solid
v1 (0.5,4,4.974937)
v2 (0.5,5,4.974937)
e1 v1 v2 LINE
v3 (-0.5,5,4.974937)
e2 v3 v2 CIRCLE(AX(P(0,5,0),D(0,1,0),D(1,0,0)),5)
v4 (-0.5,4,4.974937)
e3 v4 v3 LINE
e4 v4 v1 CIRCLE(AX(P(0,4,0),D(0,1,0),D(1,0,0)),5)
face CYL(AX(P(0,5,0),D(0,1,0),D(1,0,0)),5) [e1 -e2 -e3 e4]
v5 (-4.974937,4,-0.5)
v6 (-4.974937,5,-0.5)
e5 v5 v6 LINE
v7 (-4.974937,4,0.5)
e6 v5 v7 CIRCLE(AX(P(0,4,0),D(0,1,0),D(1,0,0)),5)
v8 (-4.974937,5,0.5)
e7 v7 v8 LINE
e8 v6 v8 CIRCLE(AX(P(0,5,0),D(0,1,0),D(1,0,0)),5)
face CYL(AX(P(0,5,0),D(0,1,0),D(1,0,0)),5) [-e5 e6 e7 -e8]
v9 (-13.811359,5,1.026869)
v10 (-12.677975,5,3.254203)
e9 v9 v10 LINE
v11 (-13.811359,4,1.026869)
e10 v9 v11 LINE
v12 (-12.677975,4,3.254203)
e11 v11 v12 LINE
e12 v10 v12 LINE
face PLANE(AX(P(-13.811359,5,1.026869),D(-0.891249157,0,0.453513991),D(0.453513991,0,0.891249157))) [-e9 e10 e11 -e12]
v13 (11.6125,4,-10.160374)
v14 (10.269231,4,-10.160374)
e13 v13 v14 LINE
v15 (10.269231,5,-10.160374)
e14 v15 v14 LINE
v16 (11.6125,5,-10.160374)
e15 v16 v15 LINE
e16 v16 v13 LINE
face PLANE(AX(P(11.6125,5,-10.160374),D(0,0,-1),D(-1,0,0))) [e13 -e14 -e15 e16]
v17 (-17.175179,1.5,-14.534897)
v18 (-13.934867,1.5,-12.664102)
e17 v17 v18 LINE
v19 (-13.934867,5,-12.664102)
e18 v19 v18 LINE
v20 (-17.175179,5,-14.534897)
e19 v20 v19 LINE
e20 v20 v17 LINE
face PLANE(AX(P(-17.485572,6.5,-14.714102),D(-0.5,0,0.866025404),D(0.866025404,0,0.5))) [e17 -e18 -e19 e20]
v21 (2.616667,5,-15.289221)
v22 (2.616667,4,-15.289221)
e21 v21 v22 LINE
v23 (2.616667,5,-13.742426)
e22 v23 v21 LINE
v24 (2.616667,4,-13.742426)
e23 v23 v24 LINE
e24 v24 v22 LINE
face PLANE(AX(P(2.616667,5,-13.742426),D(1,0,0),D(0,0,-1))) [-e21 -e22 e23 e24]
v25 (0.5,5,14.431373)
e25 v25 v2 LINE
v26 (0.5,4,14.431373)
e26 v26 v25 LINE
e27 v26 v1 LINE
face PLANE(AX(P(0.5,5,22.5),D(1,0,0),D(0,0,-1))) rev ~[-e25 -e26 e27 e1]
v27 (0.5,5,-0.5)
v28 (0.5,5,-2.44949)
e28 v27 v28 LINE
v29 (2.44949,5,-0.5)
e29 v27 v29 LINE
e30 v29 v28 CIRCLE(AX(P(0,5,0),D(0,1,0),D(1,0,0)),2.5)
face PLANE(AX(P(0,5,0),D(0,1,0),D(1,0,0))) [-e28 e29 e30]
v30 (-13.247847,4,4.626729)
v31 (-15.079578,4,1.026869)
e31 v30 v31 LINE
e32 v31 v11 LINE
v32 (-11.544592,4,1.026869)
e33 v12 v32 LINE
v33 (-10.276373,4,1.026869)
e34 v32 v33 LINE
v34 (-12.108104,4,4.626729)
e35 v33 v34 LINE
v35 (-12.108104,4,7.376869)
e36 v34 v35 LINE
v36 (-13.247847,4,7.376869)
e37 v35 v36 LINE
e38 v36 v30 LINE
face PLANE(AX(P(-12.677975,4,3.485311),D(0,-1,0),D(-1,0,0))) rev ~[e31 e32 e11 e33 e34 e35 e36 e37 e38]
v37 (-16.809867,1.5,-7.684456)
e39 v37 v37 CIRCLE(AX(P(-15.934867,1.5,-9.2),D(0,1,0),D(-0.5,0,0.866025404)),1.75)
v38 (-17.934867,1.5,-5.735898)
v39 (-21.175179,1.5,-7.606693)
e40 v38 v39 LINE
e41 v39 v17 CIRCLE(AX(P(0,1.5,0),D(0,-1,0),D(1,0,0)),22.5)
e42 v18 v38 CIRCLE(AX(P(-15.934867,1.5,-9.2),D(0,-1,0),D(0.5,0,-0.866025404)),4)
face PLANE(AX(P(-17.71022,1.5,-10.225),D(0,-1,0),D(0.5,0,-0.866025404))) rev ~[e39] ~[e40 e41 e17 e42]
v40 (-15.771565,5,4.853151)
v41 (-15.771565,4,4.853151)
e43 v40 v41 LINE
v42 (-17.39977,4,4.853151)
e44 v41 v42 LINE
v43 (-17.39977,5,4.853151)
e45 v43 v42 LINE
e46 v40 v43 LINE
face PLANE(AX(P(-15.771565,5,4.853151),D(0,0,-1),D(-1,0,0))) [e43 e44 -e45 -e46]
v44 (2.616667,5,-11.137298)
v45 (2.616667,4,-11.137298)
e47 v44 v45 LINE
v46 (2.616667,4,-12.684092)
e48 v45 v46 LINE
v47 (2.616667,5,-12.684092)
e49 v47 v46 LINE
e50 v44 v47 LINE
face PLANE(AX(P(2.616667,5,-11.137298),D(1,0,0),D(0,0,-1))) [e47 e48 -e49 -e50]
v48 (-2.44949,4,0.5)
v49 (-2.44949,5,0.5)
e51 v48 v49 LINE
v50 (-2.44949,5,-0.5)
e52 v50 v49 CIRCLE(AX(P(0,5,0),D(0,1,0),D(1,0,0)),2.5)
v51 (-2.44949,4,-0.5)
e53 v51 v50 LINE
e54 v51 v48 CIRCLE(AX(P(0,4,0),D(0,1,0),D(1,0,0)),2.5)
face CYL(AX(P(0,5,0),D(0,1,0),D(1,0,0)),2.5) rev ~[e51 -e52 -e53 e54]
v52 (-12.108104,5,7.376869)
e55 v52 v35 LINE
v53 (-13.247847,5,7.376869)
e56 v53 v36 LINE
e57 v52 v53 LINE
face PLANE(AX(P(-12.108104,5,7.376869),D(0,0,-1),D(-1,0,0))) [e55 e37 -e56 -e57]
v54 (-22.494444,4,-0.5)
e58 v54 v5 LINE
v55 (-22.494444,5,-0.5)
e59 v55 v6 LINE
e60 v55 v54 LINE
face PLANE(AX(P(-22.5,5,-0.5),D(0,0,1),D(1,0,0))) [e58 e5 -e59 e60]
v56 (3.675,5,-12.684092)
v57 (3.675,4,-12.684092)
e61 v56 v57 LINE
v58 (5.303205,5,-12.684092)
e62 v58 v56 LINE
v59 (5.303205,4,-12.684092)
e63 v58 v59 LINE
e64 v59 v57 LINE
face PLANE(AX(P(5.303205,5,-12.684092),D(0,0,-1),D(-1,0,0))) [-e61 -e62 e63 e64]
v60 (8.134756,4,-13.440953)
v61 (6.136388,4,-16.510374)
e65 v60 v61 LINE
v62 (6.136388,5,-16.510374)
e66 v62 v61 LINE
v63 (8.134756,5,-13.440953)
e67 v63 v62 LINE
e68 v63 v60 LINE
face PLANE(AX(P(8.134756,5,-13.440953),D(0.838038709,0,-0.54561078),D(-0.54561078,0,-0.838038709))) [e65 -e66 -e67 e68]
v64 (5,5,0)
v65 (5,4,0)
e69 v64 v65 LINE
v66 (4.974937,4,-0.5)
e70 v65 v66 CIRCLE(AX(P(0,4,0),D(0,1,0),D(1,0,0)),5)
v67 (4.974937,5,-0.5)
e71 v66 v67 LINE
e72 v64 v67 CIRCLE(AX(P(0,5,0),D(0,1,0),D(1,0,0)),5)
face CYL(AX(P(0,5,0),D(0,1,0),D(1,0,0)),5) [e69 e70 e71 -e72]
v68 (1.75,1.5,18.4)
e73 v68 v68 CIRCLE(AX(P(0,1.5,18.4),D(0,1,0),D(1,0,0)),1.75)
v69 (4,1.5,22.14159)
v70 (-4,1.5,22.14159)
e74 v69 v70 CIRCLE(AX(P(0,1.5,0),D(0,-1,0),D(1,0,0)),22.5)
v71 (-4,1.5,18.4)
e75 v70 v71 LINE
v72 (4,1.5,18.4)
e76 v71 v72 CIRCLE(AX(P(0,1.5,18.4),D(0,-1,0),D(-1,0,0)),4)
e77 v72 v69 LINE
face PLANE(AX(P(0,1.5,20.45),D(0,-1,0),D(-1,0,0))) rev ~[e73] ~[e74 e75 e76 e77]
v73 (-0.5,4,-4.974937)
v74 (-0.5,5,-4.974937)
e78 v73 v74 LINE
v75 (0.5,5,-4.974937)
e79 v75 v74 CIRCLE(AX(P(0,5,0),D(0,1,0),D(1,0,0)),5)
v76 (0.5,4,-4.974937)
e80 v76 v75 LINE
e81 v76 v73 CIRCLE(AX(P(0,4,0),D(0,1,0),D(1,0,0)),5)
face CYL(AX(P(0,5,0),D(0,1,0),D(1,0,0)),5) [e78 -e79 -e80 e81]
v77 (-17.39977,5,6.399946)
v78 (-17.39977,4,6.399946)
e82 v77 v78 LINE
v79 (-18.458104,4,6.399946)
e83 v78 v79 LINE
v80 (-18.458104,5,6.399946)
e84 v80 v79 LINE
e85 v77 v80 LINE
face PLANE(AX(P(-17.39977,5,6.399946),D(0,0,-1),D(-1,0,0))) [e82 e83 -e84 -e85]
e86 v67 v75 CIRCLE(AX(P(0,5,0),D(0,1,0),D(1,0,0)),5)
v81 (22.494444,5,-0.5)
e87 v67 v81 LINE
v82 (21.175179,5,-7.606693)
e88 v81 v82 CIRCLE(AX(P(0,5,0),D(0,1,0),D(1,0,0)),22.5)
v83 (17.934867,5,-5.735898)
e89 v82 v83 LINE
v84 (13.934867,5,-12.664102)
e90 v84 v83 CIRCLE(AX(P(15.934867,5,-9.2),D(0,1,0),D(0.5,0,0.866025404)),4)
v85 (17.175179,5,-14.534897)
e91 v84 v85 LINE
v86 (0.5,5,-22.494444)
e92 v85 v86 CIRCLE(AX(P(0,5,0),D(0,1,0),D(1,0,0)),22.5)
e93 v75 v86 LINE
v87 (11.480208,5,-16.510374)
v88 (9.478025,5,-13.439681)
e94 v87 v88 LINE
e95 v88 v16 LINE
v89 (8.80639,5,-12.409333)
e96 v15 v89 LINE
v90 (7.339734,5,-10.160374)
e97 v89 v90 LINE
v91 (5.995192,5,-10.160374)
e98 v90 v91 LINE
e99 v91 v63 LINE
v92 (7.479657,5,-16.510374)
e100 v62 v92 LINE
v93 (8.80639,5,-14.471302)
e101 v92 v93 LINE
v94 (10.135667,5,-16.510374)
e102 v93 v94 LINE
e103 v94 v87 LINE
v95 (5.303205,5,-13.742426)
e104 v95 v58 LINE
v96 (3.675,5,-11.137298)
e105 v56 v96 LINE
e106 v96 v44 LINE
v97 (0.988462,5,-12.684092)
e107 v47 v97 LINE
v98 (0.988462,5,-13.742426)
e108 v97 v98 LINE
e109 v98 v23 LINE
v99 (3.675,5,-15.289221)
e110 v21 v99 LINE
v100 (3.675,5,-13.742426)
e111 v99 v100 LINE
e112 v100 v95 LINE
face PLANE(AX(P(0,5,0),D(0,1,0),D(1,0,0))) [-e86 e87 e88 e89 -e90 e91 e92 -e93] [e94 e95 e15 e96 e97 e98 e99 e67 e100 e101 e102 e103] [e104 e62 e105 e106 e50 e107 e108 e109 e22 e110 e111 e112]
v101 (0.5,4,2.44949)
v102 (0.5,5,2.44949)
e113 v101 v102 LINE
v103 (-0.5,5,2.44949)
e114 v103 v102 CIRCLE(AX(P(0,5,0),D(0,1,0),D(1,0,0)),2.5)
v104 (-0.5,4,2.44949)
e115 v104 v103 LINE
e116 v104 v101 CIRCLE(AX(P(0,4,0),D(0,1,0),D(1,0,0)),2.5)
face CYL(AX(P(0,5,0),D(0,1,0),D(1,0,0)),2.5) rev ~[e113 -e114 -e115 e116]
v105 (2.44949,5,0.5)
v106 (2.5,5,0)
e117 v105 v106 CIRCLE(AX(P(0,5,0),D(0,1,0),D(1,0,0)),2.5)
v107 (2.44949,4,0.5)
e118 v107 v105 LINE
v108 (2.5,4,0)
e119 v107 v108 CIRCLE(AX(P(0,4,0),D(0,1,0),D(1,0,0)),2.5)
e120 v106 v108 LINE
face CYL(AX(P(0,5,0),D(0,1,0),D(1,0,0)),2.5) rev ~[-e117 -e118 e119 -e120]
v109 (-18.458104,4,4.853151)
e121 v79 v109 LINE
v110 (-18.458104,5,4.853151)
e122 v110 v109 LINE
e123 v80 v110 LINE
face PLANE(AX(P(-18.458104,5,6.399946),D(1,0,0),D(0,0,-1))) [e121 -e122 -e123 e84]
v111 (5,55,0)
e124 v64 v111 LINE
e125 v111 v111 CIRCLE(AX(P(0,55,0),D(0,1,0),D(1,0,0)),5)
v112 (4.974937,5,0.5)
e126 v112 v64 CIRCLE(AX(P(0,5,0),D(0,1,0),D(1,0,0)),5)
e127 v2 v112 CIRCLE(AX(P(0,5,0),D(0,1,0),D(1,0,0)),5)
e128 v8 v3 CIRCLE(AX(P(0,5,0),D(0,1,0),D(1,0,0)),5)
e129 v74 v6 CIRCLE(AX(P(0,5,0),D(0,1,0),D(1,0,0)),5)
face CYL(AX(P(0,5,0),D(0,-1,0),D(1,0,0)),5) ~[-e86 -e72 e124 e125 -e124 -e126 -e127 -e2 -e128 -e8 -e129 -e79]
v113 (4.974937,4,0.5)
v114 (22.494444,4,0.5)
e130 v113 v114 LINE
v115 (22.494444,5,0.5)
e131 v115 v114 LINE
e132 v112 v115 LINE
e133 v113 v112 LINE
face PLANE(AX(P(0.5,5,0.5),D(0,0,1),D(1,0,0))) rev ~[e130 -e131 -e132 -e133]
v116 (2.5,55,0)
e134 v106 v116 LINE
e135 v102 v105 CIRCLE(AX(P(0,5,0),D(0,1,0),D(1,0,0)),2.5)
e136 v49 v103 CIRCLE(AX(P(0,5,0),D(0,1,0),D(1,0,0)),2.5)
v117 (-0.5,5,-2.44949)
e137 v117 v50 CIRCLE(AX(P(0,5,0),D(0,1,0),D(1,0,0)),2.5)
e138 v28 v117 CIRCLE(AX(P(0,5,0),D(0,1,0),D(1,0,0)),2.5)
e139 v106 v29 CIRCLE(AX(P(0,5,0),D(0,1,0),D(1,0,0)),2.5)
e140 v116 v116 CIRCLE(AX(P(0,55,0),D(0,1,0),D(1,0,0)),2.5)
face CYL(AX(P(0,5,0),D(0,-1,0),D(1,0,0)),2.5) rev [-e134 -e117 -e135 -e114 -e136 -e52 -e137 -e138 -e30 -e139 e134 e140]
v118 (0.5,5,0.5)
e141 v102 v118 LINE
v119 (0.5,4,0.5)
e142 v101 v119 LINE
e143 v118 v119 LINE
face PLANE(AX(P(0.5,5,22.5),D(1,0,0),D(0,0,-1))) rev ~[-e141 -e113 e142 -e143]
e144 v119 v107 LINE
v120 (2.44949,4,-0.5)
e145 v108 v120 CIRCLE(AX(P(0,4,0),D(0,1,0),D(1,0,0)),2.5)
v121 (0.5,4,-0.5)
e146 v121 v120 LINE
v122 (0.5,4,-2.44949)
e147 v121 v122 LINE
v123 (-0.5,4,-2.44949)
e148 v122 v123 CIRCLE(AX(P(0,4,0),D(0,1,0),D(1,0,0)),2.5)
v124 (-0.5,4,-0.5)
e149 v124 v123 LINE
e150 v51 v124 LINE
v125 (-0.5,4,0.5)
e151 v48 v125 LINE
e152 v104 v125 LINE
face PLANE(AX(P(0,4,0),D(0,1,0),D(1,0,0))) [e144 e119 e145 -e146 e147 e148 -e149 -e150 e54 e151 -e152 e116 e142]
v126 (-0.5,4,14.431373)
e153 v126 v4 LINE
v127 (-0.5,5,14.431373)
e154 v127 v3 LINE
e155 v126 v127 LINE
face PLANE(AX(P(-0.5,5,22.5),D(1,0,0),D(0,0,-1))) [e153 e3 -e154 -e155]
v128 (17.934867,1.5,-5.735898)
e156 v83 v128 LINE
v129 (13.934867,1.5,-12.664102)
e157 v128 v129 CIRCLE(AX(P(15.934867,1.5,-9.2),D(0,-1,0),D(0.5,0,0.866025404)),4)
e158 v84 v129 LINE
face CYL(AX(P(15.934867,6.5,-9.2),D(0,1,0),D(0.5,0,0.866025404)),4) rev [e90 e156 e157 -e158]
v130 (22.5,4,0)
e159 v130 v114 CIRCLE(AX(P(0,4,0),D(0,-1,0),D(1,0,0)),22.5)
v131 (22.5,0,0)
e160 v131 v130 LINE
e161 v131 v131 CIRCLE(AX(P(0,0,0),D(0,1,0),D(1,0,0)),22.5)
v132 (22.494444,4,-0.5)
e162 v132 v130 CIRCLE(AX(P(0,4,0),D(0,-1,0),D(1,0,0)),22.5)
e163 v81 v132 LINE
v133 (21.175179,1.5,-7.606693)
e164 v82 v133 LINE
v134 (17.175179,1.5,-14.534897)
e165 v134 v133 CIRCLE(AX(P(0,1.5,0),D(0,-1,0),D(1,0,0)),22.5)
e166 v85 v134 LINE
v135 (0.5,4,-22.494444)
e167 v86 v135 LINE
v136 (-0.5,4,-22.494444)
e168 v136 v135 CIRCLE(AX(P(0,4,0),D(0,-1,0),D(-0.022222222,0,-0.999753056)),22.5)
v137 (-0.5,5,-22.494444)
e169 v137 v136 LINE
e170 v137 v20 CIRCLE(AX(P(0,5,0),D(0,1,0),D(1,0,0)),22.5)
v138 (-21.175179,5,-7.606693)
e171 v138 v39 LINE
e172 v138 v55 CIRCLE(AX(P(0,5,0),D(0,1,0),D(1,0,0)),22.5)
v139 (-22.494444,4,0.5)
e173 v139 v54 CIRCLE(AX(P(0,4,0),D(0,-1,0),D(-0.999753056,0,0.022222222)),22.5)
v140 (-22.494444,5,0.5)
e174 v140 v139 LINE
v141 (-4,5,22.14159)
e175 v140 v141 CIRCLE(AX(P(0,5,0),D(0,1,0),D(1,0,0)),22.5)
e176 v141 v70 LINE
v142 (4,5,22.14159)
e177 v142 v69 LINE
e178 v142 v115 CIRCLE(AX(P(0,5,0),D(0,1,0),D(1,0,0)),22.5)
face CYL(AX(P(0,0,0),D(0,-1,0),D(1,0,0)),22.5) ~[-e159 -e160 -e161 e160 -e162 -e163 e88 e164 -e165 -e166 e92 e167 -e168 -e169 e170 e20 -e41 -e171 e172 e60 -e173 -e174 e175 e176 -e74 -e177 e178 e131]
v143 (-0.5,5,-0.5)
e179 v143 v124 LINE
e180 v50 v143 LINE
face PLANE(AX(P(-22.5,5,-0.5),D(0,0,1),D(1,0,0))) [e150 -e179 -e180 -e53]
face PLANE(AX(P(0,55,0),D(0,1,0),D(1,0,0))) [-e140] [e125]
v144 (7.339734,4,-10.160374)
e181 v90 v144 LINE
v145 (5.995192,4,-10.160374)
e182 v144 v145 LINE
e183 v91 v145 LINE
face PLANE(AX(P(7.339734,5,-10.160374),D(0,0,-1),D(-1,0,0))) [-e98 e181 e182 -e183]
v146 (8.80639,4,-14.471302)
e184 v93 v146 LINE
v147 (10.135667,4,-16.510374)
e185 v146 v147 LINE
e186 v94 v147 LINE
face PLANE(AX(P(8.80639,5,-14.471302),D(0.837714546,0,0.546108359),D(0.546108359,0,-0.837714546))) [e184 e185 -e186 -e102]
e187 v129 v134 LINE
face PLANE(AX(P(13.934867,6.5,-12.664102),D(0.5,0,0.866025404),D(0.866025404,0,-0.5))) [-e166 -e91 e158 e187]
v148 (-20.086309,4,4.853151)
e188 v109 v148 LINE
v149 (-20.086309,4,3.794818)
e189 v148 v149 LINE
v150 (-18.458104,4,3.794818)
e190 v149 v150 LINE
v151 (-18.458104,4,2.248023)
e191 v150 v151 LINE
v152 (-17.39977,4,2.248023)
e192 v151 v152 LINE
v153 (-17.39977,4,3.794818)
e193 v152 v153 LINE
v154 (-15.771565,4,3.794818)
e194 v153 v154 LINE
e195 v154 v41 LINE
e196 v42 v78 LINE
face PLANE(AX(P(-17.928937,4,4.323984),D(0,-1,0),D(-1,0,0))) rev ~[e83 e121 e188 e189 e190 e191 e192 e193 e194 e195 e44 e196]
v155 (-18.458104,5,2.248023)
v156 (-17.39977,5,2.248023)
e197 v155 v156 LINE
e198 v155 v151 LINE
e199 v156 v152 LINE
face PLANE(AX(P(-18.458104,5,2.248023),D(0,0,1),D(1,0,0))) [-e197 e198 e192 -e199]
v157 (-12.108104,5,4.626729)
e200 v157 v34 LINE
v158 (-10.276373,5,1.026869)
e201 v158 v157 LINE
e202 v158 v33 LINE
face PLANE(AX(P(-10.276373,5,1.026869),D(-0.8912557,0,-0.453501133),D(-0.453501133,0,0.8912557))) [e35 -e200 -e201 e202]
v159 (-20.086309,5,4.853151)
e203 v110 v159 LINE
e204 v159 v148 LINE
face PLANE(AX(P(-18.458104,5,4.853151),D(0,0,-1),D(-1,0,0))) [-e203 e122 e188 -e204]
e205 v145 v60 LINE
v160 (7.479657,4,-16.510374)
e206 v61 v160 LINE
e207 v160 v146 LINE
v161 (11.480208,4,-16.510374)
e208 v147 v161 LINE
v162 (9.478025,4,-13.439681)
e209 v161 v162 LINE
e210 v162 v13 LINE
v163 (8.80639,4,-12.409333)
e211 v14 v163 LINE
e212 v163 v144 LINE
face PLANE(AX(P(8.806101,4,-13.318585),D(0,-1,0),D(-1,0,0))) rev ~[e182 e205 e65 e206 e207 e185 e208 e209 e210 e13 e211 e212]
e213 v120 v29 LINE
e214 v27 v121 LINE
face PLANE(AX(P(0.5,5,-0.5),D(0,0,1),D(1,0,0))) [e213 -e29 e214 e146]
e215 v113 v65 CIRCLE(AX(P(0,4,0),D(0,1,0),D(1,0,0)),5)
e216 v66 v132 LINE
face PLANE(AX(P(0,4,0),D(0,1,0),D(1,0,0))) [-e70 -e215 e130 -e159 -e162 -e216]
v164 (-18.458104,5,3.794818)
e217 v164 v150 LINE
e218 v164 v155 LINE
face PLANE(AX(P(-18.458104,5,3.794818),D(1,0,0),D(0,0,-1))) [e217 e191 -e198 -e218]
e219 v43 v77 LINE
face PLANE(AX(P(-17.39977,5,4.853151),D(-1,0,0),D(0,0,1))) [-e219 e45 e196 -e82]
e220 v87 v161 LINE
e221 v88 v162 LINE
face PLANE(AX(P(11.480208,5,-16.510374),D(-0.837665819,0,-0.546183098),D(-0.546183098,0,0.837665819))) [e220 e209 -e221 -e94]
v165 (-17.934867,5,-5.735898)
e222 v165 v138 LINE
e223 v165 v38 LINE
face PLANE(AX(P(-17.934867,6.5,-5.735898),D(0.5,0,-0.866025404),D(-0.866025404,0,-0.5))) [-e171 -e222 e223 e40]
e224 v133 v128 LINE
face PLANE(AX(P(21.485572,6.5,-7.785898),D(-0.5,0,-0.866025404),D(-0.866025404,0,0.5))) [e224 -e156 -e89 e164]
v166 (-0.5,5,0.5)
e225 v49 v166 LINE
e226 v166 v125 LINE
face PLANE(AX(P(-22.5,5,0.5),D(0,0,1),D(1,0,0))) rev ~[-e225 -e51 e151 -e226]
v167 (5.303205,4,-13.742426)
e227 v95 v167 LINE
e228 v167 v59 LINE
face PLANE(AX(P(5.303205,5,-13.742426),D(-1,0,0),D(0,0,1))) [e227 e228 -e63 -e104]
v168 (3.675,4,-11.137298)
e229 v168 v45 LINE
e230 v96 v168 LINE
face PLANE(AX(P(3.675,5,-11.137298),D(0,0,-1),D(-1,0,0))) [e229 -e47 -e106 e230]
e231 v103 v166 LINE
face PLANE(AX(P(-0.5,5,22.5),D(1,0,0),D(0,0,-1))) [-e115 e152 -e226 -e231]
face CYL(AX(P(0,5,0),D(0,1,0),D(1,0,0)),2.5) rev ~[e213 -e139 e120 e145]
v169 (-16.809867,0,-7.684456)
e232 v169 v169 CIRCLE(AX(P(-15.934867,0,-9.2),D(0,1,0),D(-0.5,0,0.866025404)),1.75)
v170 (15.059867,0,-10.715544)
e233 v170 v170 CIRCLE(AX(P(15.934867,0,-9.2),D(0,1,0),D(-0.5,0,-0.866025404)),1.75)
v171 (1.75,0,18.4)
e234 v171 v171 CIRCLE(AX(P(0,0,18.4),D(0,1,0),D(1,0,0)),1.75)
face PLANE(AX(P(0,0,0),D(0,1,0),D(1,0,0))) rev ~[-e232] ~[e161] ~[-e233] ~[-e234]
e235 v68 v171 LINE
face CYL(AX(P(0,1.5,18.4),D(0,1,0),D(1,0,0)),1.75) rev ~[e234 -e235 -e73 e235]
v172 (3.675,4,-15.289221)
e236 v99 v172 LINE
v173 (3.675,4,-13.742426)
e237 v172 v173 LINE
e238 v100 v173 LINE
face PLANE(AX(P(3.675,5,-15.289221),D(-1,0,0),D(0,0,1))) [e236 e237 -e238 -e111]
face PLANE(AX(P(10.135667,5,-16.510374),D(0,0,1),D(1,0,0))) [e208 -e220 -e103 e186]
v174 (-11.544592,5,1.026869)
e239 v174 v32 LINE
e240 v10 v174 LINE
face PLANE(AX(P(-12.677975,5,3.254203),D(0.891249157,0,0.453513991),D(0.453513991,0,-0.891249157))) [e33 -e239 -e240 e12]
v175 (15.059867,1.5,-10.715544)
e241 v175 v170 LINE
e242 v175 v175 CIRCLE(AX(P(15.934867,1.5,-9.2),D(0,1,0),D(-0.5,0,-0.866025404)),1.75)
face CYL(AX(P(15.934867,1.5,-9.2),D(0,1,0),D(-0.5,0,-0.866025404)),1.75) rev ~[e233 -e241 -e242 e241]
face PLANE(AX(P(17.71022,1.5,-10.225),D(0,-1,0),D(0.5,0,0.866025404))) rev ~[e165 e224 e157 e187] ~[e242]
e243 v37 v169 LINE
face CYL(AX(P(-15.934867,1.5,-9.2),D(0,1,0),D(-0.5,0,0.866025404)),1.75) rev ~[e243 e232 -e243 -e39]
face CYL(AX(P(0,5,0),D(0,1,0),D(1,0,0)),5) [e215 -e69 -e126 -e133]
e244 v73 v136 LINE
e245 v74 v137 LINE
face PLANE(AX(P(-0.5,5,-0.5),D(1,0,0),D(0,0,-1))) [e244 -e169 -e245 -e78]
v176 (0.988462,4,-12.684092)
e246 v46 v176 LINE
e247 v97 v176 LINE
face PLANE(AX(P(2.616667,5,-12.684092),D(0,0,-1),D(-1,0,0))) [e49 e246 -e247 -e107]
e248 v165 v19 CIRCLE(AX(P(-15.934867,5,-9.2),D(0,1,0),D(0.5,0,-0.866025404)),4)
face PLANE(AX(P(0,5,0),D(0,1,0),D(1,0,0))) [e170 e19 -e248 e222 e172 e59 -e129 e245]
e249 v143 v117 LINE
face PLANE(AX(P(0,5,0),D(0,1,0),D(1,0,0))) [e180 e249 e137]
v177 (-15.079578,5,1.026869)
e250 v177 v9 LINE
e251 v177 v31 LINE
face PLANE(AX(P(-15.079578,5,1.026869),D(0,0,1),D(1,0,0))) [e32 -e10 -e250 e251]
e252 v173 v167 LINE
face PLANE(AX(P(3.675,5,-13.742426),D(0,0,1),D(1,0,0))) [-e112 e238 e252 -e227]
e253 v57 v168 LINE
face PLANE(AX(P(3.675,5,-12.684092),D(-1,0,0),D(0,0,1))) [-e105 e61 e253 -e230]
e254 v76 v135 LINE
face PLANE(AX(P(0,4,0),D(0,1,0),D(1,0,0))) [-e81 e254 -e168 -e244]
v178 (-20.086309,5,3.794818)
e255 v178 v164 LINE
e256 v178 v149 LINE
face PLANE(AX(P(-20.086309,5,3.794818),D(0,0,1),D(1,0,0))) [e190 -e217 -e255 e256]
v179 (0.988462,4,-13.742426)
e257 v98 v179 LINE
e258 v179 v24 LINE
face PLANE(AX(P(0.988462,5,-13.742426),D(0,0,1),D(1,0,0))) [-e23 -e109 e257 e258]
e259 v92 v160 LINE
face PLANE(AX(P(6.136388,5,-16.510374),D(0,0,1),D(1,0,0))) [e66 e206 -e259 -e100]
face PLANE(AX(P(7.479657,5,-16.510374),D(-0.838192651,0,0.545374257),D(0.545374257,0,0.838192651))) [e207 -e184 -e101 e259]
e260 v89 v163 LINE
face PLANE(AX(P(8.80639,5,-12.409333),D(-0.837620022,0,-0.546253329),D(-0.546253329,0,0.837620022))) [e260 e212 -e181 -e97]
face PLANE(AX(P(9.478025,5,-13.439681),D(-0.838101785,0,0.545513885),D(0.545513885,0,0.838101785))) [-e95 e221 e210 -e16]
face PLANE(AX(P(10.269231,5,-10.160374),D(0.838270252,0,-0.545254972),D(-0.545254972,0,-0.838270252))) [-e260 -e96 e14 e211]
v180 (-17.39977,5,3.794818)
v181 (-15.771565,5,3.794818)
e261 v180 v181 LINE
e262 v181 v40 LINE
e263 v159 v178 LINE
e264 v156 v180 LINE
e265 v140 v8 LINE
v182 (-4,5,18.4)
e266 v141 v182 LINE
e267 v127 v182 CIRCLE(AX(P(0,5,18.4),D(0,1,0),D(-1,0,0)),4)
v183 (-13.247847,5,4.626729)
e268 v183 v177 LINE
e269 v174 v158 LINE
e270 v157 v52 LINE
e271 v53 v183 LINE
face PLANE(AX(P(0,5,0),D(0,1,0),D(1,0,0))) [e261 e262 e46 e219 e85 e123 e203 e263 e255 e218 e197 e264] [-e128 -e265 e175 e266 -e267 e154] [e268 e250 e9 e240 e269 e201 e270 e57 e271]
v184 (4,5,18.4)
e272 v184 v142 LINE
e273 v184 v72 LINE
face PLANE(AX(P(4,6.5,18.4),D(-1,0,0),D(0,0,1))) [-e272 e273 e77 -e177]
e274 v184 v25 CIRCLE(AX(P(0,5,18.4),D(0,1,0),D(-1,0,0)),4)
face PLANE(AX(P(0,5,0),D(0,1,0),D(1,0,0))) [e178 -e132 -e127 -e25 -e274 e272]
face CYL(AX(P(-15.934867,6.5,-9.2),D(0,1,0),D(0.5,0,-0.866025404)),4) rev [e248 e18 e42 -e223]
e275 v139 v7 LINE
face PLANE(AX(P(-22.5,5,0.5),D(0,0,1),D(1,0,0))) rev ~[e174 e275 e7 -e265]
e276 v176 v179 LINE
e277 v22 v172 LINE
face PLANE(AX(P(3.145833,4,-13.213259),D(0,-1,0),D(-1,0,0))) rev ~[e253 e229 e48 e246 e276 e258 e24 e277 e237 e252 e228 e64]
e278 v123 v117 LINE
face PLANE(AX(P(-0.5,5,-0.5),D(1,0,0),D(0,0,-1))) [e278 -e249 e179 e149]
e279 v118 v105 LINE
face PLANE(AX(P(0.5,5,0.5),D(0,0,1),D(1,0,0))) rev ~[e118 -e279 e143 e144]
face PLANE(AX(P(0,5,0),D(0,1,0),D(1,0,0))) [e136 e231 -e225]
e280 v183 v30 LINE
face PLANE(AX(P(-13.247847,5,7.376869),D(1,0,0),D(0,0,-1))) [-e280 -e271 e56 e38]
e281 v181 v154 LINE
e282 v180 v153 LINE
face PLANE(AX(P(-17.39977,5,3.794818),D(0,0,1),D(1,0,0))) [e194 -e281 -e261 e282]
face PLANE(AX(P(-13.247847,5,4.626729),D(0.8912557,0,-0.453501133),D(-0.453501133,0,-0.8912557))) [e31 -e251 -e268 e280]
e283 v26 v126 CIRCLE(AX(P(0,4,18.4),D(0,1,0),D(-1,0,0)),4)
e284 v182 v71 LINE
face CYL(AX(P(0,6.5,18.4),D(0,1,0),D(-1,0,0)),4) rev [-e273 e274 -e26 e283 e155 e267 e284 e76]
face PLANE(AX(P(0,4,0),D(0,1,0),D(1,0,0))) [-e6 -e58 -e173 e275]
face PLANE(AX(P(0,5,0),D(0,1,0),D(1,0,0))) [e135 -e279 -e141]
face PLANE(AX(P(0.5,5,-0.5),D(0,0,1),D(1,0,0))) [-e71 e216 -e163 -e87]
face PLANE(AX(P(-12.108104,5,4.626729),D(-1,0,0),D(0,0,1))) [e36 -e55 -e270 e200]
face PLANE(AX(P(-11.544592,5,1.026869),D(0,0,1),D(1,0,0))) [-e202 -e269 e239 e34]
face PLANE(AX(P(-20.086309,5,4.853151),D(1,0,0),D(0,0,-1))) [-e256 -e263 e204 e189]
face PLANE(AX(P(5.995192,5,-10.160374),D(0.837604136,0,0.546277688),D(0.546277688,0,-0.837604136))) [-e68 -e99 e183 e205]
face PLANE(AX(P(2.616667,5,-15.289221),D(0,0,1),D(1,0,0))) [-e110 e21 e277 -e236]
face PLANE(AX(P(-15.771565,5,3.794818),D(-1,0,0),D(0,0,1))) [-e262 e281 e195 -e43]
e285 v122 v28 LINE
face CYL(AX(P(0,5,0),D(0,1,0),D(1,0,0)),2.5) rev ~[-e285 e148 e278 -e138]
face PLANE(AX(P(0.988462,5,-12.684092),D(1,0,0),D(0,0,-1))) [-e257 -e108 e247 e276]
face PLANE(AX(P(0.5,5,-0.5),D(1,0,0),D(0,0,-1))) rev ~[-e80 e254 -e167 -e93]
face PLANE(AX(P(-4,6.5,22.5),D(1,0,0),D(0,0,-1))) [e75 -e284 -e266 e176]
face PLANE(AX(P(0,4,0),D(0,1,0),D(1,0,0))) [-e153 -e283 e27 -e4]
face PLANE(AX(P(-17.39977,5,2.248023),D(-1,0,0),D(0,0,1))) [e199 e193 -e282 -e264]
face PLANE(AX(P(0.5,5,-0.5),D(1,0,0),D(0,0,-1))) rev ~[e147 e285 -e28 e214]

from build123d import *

# Parameters (mm, degrees)
SKETCH1_R                = 22.5
PLATE_DEPTH              = 5
OPENING_START            = 1.5
OPENING_FOR_SCREW_DEPTH  = 5
SKETCH7_R                = 1.75
SCREW_HOLE_DEPTH         = 5
CIRPATTERN20_COUNT       = 3
SKETCH10_W               = 45
SKETCH10_H               = 1
SKETCH10_W_2             = 1
SKETCH10_H_2             = 45
CUT_EXTRUDE5_DEPTH       = 1
CUT_EXTRUDE6_DEPTH       = 1
SKETCH12_R               = 5
SKETCH12_R_2             = 2.5
BOSS_EXTRUDE2_DEPTH      = 50
BOSS_EXTRUDE2_DEPTH_BACK = 1


with BuildPart() as part:
    # Sketch1 → plate (new body)
    with BuildSketch(Plane(origin=(0, 0, 0), x_dir=(1, 0, 0), z_dir=(0, 1, 0))):
        Circle(SKETCH1_R)
    extrude(amount=PLATE_DEPTH)

    # Sketch6 → opening for screw (cut)
    with BuildSketch(Plane(origin=(0, 5, 0), x_dir=(1, 0, 0), z_dir=(0, 1, 0)).offset(OPENING_START)):
        with BuildLine():
            Line((-4, -22.5), (-4, -18.4))
            ThreePointArc((-4, -18.4), (0, -14.4), (4, -18.4))
            Line((4, -18.4), (4, -22.5))
            ThreePointArc((4, -22.5), (0, -26.5), (-4, -22.5))
        make_face()
    opening_for_screw = extrude(amount=-OPENING_FOR_SCREW_DEPTH, mode=Mode.SUBTRACT)

    # Sketch7 → screw hole (cut)
    with BuildSketch(Plane(origin=(0, 1.5, 0), x_dir=(1, 0, 0), z_dir=(0, 1, 0))):
        with Locations((0, -18.4)):
            Circle(SKETCH7_R)
    screw_hole = extrude(amount=-SCREW_HOLE_DEPTH, mode=Mode.SUBTRACT)

    # CirPattern20: opening for screw, screw hole ×3 about axis
    cirpattern20_axis = Axis((0, 0, 0), (0, 1, 0))
    for i in range(1, CIRPATTERN20_COUNT):
        add(opening_for_screw.rotate(cirpattern20_axis, i * 360 / CIRPATTERN20_COUNT), mode=Mode.SUBTRACT)
        add(screw_hole.rotate(cirpattern20_axis, i * 360 / CIRPATTERN20_COUNT), mode=Mode.SUBTRACT)

    # Sketch10 → Cut-Extrude5 (cut)
    with BuildSketch(Plane(origin=(0, 5, 0), x_dir=(1, 0, 0), z_dir=(0, 1, 0))):
        Rectangle(SKETCH10_W, SKETCH10_H)
        Rectangle(SKETCH10_W_2, SKETCH10_H_2)
    extrude(amount=-CUT_EXTRUDE5_DEPTH, mode=Mode.SUBTRACT)

    # Sketch11 → Cut-Extrude6 (cut)
    with BuildSketch(Plane(origin=(0, 5, 0), x_dir=(1, 0, 0), z_dir=(0, 1, 0))):
        Polygon((2.616666667, 13.742425761), (2.616666667, 15.289220632), (3.675, 15.289220632), (3.675, 13.742425761), (5.303205128, 13.742425761), (5.303205128, 12.684092427), (3.675, 12.684092427), (3.675, 11.137297556), (2.616666667, 11.137297556), (2.616666667, 12.684092427), (0.988461538, 12.684092427), (0.988461538, 13.742425761), align=None)
        Polygon((6.136388221, 16.510374479), (7.479657452, 16.510374479), (8.806390224, 14.471301963), (10.135667067, 16.510374479), (11.480208333, 16.510374479), (9.47802484, 13.43968137), (11.6125, 10.160374479), (10.269230769, 10.160374479), (8.806390224, 12.409332812), (7.339733574, 10.160374479), (5.995192308, 10.160374479), (8.134755609, 13.440953405), align=None)
        Polygon((-18.458103671, -3.794817635), (-18.458103671, -2.248022763), (-17.399770338, -2.248022763), (-17.399770338, -3.794817635), (-15.771565209, -3.794817635), (-15.771565209, -4.853150968), (-17.399770338, -4.853150968), (-17.399770338, -6.39994584), (-18.458103671, -6.39994584), (-18.458103671, -4.853150968), (-20.086308799, -4.853150968), (-20.086308799, -3.794817635), align=None)
        Polygon((-15.07957803, -1.026868917), (-13.811358879, -1.026868917), (-12.677975466, -3.254202651), (-11.544592052, -1.026868917), (-10.276372902, -1.026868917), (-12.108103671, -4.626728693), (-12.108103671, -7.376868917), (-13.247847261, -7.376868917), (-13.247847261, -4.626728693), align=None)
    extrude(amount=-CUT_EXTRUDE6_DEPTH, mode=Mode.SUBTRACT)

    # Sketch12 → Boss-Extrude2 (add, two sides)
    with BuildSketch(Plane(origin=(0, 5, 0), x_dir=(1, 0, 0), z_dir=(0, 1, 0))) as boss_extrude2_sk:
        Circle(SKETCH12_R)
        Circle(SKETCH12_R_2, mode=Mode.SUBTRACT)
    extrude(amount=BOSS_EXTRUDE2_DEPTH)
    extrude(boss_extrude2_sk.sketch, amount=-BOSS_EXTRUDE2_DEPTH_BACK)


solid = part.part
